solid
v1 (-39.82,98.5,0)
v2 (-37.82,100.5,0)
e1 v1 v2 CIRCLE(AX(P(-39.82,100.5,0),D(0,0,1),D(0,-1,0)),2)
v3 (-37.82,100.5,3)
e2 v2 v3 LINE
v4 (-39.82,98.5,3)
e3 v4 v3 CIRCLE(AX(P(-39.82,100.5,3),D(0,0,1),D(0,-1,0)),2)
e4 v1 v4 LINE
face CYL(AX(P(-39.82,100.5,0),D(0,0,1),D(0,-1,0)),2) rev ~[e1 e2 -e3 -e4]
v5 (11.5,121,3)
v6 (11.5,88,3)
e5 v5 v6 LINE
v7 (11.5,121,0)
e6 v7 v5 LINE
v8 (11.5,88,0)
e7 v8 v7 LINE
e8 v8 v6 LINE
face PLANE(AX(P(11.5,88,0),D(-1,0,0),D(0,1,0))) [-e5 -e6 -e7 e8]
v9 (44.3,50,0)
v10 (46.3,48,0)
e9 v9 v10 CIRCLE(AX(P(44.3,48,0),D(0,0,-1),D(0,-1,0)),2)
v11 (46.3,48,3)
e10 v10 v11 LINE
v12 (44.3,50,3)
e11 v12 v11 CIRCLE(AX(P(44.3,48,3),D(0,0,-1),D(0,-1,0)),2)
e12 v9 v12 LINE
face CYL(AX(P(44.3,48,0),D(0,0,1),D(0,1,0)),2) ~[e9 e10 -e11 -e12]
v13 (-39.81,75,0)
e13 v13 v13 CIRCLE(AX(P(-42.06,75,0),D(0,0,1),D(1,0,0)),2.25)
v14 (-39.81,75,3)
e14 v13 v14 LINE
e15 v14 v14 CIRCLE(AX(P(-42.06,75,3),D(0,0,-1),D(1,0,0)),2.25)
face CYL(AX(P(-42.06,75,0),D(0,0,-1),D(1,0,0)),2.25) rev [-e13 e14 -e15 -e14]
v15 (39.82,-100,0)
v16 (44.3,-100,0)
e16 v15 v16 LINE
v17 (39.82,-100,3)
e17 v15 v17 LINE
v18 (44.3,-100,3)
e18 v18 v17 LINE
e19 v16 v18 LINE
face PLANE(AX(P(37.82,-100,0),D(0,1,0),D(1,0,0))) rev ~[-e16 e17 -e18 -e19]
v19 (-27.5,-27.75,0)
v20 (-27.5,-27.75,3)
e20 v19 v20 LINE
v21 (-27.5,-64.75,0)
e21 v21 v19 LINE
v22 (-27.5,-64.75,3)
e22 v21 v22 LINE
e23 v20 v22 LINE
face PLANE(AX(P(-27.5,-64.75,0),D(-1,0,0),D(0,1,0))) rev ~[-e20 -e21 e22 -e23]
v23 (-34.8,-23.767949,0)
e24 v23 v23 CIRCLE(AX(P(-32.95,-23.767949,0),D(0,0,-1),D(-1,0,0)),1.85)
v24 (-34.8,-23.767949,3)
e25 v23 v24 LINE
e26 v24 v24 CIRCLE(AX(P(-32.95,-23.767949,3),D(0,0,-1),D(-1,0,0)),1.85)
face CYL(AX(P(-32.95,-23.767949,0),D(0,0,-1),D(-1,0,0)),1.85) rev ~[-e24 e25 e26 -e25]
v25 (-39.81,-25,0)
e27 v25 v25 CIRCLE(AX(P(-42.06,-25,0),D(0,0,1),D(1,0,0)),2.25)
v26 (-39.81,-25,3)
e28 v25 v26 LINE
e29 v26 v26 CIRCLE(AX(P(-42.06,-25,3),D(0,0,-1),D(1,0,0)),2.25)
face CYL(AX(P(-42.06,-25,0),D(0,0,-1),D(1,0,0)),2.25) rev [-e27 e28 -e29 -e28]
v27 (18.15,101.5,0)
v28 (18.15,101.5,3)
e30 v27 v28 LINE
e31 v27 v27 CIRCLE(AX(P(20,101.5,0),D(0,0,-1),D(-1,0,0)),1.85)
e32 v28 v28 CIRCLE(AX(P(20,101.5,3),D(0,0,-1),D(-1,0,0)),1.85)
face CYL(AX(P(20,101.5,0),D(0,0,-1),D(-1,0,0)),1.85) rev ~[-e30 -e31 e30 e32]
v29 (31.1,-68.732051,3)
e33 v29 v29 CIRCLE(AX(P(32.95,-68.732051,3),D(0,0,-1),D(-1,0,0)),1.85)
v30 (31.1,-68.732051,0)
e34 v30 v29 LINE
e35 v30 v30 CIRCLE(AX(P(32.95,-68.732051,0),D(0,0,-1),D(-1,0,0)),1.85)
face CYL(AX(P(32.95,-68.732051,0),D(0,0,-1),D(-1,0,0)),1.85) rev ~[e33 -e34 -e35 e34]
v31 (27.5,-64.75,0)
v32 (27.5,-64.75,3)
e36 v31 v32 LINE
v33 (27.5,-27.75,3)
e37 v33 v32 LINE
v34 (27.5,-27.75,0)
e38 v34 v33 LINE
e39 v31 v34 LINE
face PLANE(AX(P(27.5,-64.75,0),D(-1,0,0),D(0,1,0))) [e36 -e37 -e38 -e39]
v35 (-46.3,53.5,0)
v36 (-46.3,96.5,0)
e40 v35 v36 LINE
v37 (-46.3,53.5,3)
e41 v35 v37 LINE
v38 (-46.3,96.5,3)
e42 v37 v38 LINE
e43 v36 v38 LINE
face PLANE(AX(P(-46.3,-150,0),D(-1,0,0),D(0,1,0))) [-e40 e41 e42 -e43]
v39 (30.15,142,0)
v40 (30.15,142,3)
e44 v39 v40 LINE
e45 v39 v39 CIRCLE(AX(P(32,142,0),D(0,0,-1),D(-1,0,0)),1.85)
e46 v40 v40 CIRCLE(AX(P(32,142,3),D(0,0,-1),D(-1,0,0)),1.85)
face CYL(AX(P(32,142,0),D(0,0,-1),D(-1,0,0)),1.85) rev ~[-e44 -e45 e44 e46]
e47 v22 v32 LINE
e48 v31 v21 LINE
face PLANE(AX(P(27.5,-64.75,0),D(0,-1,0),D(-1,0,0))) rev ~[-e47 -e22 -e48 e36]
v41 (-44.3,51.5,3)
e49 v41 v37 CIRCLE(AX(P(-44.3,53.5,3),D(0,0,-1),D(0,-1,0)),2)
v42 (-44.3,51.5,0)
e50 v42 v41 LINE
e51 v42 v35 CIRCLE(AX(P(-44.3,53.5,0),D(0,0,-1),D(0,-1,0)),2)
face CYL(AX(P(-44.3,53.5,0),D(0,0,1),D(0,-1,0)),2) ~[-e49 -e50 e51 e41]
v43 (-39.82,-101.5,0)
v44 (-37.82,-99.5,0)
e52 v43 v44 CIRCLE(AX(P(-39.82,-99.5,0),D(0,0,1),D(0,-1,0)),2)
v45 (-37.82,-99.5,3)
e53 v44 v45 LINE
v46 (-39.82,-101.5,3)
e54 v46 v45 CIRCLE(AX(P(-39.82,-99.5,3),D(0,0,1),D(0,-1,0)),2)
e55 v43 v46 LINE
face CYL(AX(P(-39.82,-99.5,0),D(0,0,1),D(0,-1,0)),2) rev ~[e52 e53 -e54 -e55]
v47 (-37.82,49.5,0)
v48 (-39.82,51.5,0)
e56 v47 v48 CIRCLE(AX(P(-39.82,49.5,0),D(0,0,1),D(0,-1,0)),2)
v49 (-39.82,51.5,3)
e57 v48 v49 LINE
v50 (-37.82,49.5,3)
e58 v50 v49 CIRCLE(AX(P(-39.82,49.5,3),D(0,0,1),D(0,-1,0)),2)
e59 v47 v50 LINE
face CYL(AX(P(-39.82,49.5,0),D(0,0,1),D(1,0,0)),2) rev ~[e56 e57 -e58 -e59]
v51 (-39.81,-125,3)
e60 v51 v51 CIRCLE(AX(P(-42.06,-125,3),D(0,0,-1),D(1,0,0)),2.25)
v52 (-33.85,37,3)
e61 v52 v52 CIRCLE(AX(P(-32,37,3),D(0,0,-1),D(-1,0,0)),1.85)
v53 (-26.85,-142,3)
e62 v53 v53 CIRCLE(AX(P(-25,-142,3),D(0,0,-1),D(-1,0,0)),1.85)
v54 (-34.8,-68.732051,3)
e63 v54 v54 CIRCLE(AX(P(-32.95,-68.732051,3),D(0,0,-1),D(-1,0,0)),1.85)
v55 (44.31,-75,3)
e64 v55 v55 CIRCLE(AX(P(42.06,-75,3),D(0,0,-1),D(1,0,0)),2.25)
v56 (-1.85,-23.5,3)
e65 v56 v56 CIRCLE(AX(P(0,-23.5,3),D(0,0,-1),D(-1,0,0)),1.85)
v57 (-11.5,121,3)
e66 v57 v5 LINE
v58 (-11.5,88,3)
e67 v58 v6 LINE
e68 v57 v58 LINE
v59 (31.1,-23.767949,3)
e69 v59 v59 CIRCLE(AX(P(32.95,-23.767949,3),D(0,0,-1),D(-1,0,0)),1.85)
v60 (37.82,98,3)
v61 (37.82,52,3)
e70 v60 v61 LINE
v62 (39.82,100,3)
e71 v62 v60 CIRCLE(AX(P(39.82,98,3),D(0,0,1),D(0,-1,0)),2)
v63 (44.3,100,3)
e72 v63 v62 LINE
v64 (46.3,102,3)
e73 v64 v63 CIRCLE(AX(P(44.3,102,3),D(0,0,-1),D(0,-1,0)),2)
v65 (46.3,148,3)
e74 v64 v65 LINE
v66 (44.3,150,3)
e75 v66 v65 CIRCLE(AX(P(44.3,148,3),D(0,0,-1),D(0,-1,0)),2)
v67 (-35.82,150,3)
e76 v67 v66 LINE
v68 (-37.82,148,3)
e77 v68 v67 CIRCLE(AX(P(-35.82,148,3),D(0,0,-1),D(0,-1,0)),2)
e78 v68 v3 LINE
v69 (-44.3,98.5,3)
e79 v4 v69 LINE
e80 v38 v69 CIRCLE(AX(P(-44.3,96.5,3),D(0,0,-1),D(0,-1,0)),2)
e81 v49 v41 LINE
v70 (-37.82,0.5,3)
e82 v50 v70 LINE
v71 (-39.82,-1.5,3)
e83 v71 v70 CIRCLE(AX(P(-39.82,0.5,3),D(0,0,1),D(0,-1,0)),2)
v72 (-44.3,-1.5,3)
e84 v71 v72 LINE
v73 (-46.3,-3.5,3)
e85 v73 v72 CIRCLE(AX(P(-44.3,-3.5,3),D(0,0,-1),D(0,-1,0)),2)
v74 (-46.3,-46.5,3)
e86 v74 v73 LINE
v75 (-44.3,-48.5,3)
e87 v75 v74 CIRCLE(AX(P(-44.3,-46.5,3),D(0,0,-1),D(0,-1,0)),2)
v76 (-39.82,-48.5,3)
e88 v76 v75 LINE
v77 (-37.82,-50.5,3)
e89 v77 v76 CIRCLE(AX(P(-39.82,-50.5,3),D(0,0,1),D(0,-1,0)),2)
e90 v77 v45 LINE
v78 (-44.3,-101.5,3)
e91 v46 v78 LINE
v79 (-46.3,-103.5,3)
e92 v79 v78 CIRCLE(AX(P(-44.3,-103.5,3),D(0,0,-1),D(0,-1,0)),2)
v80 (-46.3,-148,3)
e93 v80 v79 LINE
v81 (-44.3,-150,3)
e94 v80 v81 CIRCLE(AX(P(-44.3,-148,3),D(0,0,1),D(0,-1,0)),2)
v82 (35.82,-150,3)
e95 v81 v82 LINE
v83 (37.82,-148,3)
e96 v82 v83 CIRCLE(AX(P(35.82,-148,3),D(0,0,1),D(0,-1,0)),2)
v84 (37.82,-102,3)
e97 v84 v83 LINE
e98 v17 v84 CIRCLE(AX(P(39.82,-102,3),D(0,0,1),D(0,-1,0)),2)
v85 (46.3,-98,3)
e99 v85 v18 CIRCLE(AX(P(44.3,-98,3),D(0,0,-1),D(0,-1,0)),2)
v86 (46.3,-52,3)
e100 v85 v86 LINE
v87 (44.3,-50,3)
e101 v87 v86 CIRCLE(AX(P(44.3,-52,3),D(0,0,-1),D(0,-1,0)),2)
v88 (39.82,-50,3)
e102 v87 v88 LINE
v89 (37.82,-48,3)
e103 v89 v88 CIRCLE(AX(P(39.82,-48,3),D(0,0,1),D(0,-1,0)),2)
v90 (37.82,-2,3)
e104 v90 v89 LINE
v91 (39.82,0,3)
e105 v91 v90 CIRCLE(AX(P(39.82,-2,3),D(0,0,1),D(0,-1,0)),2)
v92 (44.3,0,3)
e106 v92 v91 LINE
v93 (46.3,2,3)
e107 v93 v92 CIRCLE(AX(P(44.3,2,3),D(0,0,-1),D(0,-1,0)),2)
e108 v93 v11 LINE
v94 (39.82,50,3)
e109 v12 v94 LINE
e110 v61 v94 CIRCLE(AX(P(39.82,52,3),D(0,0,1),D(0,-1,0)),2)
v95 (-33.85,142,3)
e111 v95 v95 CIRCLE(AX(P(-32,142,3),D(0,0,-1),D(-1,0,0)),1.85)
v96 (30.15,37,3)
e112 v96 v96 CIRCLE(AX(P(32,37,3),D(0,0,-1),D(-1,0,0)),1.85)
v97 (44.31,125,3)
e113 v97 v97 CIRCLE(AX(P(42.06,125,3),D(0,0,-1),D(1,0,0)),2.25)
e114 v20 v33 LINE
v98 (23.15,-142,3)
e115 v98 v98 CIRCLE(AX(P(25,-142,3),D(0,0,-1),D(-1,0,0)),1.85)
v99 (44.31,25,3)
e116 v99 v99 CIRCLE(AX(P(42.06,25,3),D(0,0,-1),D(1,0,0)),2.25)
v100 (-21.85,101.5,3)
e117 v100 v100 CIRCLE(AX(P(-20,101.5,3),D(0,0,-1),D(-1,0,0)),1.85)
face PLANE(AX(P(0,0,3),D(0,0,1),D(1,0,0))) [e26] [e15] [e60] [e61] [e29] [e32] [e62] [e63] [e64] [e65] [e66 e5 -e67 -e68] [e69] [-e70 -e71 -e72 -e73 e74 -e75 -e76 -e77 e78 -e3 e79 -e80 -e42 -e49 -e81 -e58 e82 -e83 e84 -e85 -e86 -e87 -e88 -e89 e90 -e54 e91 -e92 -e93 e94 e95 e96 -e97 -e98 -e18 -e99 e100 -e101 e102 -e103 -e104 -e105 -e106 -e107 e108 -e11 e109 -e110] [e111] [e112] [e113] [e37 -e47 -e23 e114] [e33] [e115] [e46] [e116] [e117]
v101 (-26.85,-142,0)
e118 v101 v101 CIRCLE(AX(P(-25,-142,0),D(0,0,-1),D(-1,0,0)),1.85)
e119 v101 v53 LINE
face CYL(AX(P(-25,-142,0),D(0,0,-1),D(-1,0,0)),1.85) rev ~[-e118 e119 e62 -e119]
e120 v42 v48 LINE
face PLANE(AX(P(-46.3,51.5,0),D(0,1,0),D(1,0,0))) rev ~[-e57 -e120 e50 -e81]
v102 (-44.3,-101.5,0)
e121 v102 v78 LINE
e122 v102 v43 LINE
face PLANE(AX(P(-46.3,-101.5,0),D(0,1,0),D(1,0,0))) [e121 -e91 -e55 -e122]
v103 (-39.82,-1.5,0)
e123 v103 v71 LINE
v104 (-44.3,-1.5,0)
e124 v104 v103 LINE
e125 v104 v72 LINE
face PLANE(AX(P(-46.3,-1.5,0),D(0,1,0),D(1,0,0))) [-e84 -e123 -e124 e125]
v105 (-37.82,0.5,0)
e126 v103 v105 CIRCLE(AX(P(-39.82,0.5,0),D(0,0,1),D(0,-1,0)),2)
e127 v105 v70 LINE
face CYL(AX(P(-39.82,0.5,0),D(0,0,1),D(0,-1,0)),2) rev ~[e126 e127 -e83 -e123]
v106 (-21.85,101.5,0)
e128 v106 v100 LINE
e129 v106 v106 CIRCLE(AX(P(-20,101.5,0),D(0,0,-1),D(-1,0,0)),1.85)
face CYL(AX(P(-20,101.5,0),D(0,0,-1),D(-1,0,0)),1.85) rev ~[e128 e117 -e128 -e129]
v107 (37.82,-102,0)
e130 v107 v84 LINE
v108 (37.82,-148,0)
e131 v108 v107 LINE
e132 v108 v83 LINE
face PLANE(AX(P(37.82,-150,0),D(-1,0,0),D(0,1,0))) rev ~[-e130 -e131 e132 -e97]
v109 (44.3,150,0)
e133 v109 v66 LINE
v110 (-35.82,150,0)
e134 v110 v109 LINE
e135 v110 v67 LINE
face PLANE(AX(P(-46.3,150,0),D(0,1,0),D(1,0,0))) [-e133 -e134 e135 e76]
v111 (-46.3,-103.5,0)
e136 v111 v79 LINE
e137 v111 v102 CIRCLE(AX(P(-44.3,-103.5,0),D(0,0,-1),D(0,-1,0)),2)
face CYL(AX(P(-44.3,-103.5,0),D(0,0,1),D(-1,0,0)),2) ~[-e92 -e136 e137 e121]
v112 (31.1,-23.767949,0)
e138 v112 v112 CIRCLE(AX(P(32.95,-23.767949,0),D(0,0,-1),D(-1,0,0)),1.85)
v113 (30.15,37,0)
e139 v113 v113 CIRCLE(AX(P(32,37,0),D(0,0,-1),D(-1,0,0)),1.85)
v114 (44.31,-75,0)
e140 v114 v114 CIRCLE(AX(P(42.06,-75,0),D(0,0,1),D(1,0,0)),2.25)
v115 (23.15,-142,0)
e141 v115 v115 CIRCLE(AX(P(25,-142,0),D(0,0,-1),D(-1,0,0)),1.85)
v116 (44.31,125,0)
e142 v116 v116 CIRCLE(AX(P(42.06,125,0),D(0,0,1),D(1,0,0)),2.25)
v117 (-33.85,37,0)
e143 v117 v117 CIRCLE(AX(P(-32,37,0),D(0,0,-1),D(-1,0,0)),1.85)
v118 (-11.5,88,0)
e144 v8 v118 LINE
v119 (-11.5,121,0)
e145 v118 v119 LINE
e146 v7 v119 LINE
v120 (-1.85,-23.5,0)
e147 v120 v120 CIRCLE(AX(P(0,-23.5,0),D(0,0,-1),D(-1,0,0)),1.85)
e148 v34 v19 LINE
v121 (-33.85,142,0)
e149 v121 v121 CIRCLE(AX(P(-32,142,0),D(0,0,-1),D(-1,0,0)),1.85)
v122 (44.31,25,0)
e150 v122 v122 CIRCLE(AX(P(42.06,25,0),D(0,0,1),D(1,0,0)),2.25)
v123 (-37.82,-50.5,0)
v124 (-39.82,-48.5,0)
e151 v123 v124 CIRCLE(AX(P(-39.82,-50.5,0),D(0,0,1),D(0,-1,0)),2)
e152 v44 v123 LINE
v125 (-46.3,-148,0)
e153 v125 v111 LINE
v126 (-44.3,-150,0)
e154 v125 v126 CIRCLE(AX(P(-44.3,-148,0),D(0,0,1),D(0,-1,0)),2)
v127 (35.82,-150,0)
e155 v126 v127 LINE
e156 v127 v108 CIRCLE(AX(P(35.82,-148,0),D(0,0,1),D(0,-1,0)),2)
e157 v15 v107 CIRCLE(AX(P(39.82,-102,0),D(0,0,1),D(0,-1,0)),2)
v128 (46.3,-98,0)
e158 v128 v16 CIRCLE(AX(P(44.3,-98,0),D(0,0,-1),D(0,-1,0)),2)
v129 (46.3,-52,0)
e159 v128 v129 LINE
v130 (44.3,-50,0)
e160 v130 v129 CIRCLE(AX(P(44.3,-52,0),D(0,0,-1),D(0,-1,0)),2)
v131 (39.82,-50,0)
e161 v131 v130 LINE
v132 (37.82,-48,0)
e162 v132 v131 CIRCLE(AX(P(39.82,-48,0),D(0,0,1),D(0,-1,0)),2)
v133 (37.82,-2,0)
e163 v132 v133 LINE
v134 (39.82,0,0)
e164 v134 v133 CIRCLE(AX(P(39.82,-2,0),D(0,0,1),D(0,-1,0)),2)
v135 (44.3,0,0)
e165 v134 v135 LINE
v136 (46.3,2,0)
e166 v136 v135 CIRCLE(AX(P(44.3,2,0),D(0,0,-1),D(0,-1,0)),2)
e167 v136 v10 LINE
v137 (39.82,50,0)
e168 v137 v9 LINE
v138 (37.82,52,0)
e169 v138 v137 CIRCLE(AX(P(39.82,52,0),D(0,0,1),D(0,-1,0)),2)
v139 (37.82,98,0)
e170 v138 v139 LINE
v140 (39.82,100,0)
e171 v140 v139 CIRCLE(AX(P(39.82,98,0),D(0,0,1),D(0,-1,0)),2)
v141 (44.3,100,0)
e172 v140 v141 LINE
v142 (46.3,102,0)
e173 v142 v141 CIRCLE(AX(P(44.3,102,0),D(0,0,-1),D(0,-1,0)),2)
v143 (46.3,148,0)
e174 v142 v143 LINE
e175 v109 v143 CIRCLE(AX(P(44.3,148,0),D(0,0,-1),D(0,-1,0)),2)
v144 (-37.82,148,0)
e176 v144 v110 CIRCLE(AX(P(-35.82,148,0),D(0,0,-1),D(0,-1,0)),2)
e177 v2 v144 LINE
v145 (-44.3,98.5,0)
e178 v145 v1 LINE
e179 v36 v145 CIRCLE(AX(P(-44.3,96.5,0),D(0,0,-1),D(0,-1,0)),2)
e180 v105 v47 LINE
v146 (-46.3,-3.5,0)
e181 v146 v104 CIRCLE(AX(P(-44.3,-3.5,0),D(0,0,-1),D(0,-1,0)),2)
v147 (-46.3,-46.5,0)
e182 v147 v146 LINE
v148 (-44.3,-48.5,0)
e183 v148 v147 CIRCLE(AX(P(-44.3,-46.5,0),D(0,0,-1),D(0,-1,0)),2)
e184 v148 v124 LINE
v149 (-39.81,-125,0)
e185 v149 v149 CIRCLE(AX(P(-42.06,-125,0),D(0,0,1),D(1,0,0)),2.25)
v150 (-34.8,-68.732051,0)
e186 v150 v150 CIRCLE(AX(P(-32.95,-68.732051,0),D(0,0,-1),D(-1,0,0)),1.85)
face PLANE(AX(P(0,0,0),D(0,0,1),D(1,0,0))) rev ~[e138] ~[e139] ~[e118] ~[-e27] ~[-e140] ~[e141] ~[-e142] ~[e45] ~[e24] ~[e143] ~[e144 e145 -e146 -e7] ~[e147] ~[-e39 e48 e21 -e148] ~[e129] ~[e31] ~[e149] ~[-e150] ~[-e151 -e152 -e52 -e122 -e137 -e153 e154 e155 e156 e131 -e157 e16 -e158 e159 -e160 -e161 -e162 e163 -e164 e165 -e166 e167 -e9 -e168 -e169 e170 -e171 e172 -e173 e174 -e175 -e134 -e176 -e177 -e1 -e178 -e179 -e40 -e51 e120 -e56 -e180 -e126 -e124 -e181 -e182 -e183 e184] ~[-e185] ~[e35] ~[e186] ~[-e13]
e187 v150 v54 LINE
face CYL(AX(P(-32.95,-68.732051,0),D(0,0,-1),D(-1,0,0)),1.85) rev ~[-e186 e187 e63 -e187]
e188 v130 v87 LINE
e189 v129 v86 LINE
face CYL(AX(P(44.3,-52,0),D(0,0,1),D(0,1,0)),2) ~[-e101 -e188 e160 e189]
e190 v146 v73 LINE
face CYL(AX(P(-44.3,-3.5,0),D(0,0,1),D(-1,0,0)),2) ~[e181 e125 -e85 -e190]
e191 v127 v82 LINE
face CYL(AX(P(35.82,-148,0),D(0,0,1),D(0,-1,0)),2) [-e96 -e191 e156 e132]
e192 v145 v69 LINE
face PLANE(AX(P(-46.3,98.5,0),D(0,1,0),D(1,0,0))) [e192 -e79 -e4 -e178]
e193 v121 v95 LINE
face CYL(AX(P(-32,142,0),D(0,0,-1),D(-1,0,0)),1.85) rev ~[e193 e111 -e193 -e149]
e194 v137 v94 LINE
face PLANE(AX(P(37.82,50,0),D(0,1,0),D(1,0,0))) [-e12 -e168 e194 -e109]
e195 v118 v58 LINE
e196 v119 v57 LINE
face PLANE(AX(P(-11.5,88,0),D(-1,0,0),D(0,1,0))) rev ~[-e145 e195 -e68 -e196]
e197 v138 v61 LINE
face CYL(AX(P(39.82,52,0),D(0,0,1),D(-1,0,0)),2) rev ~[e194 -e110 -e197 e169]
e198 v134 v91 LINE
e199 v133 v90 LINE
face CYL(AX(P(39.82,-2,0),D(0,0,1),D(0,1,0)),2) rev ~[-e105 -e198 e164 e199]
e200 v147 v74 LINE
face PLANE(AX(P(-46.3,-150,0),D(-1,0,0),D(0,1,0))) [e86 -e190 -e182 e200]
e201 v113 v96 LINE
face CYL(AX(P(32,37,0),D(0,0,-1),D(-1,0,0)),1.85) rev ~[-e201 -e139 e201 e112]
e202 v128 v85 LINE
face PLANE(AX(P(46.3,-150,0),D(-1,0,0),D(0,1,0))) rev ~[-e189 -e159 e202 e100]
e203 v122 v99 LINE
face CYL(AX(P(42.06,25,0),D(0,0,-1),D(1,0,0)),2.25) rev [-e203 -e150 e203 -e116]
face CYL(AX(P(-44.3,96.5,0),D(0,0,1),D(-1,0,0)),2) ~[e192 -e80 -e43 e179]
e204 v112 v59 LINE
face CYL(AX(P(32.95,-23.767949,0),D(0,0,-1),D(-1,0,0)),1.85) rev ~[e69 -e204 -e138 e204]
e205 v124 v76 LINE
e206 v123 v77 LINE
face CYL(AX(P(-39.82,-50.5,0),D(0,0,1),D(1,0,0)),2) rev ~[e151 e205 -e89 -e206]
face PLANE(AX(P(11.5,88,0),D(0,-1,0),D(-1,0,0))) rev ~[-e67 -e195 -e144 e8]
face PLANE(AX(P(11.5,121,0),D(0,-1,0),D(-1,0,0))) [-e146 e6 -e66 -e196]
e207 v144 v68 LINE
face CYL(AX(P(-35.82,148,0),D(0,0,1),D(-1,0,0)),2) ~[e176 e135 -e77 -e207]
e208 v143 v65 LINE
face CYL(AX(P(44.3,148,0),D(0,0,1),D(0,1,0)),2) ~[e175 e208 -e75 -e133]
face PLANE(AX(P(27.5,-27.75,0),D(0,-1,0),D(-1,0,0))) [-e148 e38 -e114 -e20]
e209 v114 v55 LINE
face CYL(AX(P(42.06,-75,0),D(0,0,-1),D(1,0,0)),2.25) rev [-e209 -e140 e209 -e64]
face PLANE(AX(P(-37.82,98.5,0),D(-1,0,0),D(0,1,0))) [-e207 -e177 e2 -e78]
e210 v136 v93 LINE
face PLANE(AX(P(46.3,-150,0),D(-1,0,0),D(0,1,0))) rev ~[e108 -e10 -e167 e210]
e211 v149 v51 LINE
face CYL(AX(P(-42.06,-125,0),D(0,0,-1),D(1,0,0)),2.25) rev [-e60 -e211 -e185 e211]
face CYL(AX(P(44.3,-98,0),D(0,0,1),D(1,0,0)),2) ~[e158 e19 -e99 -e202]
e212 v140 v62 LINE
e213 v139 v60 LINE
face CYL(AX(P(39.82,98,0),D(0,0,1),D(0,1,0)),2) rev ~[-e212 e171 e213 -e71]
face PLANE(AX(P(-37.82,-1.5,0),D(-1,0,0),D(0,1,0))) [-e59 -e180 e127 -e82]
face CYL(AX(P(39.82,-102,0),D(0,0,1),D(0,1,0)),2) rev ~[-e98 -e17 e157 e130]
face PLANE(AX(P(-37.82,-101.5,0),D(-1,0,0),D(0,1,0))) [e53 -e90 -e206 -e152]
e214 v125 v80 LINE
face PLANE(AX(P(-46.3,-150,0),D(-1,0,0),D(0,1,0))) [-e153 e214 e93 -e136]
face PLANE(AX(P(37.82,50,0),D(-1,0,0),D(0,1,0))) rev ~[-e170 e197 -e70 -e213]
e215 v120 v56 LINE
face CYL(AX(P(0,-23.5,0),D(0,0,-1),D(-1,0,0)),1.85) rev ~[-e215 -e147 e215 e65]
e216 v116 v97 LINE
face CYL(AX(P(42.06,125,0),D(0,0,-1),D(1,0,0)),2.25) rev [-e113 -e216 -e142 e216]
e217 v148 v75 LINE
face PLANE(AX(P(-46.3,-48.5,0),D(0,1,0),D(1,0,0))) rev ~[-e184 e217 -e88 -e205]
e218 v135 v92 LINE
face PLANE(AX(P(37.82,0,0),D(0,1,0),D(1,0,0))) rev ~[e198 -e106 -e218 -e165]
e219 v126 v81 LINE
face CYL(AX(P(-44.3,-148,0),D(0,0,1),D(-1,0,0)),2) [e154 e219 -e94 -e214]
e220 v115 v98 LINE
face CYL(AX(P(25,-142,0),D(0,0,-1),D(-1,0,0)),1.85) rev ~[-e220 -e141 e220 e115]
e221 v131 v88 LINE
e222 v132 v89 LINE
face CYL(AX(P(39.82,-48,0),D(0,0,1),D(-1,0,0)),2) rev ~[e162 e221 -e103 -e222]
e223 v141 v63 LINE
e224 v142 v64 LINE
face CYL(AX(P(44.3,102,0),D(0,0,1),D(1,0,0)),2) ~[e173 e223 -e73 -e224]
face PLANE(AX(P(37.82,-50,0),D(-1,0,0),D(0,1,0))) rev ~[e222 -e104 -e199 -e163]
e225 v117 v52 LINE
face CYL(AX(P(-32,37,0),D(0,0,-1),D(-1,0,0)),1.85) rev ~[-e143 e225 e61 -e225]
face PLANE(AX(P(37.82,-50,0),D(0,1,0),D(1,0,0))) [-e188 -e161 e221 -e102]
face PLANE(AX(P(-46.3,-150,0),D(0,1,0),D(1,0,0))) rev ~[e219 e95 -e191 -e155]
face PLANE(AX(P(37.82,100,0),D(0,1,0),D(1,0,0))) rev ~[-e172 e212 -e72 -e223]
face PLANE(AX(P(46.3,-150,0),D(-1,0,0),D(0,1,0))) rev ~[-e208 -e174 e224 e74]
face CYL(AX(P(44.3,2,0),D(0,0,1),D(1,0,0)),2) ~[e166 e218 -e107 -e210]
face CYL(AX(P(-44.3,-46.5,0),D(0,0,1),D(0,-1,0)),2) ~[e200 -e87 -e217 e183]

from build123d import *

# Parameters (mm, degrees)
SKETCH1_W           = 92.6
SKETCH1_H           = 300
BOSS_EXTRUDE1_DEPTH = 3
SKETCH2_R           = 2.25
SKETCH2_W           = 8.48
SKETCH2_H           = 51.5
SKETCH2_H_2         = 50
SKETCH2_H_3         = 53
CUT_EXTRUDE2_DEPTH  = 10
FILLET1_R           = 2
SKETCH3_R           = 1.85
CUT_EXTRUDE3_DEPTH  = 10
SKETCH4_R           = 1.85
SKETCH4_W           = 55
SKETCH4_H           = 37
CUT_EXTRUDE4_DEPTH  = 5
SKETCH5_R           = 1.85
SKETCH5_W           = 23
SKETCH5_H           = 33
CUT_EXTRUDE5_DEPTH  = 5


with BuildPart() as part:
    # Sketch1 → Boss-Extrude1 (new body)
    with BuildSketch(Plane.XY):
        Rectangle(SKETCH1_W, SKETCH1_H)
    extrude(amount=BOSS_EXTRUDE1_DEPTH)

    # Sketch2 → Cut-Extrude2 (cut)
    with BuildSketch(Plane.XY):
        with Locations((-42.06, 75)):
            Circle(SKETCH2_R)
        with Locations((42.06, 125)):
            Circle(SKETCH2_R)
        with Locations((42.06, 25)):
            Circle(SKETCH2_R)
        with Locations((42.06, -75)):
            Circle(SKETCH2_R)
        with Locations((-42.06, -25)):
            Circle(SKETCH2_R)
        with Locations((-42.06, -125)):
            Circle(SKETCH2_R)
        with Locations((-42.06, 124.25)):
            Rectangle(SKETCH2_W, SKETCH2_H)
        with Locations((42.06, 75)):
            Rectangle(SKETCH2_W, SKETCH2_H_2)
        with Locations((42.06, -25)):
            Rectangle(SKETCH2_W, SKETCH2_H_2)
        with Locations((-42.06, 25)):
            Rectangle(SKETCH2_W, SKETCH2_H_3)
        with Locations((-42.06, -75)):
            Rectangle(SKETCH2_W, SKETCH2_H_3)
        with Locations((42.06, -125)):
            Rectangle(SKETCH2_W, SKETCH2_H_2)
    extrude(amount=CUT_EXTRUDE2_DEPTH, mode=Mode.SUBTRACT)

    # Fillet1
    fillet1_edges = [part.edges().sort_by_distance(p)[0] for p in [
        (46.3, -100, 1.5),
        (37.82, -100, 1.5),
        (37.82, -150, 1.5),
        (46.3, 50, 1.5),
        (46.3, 100, 1.5),
        (37.82, 100, 1.5),
        (37.82, 50, 1.5),
        (-46.3, -48.5, 1.5),
        (-46.3, -101.5, 1.5),
        (-37.82, -101.5, 1.5),
        (-37.82, -48.5, 1.5),
        (37.82, 0, 1.5),
        (37.82, -50, 1.5),
        (46.3, -50, 1.5),
        (46.3, 0, 1.5),
        (46.3, 150, 1.5),
        (-46.3, 51.5, 1.5),
        (-46.3, -150, 1.5),
        (-46.3, -1.5, 1.5),
        (-37.82, -1.5, 1.5),
        (-37.82, 51.5, 1.5),
        (-46.3, 98.5, 1.5),
        (-37.82, 98.5, 1.5),
        (-37.82, 150, 1.5),
    ]]
    fillet(fillet1_edges, radius=FILLET1_R)

    # Sketch3 → Cut-Extrude3 (cut)
    with BuildSketch(Plane(origin=(0, 0, 0), x_dir=(-1, 0, 0), z_dir=(0, 0, -1))):
        with Locations((-25, -142)):
            Circle(SKETCH3_R)
        with Locations((25, -142)):
            Circle(SKETCH3_R)
        with Locations((-32, 142)):
            Circle(SKETCH3_R)
        with Locations((32, 142)):
            Circle(SKETCH3_R)
    extrude(amount=-CUT_EXTRUDE3_DEPTH, mode=Mode.SUBTRACT)

    # Sketch4 → Cut-Extrude4 (cut)
    with BuildSketch(Plane(origin=(0, 0, 0), x_dir=(-1, 0, 0), z_dir=(0, 0, -1))):
        with Locations((-32.95, -23.767949192)):
            Circle(SKETCH4_R)
        with Locations((0, -23.5)):
            Circle(SKETCH4_R)
        with Locations((32.95, -23.767949192)):
            Circle(SKETCH4_R)
        with Locations((32.95, -68.732050808)):
            Circle(SKETCH4_R)
        with Locations((-32.95, -68.732050808)):
            Circle(SKETCH4_R)
        with Locations((0, -46.25)):
            Rectangle(SKETCH4_W, SKETCH4_H)
    extrude(amount=-CUT_EXTRUDE4_DEPTH, mode=Mode.SUBTRACT)

    # Sketch5 → Cut-Extrude5 (cut)
    with BuildSketch(Plane(origin=(0, 0, 0), x_dir=(-1, 0, 0), z_dir=(0, 0, -1))):
        with Locations((32, 37)):
            Circle(SKETCH5_R)
        with Locations((-32, 37)):
            Circle(SKETCH5_R)
        with Locations((-20, 101.5)):
            Circle(SKETCH5_R)
        with Locations((20, 101.5)):
            Circle(SKETCH5_R)
        with Locations((0, 104.5)):
            Rectangle(SKETCH5_W, SKETCH5_H)
    extrude(amount=-CUT_EXTRUDE5_DEPTH, mode=Mode.SUBTRACT)


solid = part.part
